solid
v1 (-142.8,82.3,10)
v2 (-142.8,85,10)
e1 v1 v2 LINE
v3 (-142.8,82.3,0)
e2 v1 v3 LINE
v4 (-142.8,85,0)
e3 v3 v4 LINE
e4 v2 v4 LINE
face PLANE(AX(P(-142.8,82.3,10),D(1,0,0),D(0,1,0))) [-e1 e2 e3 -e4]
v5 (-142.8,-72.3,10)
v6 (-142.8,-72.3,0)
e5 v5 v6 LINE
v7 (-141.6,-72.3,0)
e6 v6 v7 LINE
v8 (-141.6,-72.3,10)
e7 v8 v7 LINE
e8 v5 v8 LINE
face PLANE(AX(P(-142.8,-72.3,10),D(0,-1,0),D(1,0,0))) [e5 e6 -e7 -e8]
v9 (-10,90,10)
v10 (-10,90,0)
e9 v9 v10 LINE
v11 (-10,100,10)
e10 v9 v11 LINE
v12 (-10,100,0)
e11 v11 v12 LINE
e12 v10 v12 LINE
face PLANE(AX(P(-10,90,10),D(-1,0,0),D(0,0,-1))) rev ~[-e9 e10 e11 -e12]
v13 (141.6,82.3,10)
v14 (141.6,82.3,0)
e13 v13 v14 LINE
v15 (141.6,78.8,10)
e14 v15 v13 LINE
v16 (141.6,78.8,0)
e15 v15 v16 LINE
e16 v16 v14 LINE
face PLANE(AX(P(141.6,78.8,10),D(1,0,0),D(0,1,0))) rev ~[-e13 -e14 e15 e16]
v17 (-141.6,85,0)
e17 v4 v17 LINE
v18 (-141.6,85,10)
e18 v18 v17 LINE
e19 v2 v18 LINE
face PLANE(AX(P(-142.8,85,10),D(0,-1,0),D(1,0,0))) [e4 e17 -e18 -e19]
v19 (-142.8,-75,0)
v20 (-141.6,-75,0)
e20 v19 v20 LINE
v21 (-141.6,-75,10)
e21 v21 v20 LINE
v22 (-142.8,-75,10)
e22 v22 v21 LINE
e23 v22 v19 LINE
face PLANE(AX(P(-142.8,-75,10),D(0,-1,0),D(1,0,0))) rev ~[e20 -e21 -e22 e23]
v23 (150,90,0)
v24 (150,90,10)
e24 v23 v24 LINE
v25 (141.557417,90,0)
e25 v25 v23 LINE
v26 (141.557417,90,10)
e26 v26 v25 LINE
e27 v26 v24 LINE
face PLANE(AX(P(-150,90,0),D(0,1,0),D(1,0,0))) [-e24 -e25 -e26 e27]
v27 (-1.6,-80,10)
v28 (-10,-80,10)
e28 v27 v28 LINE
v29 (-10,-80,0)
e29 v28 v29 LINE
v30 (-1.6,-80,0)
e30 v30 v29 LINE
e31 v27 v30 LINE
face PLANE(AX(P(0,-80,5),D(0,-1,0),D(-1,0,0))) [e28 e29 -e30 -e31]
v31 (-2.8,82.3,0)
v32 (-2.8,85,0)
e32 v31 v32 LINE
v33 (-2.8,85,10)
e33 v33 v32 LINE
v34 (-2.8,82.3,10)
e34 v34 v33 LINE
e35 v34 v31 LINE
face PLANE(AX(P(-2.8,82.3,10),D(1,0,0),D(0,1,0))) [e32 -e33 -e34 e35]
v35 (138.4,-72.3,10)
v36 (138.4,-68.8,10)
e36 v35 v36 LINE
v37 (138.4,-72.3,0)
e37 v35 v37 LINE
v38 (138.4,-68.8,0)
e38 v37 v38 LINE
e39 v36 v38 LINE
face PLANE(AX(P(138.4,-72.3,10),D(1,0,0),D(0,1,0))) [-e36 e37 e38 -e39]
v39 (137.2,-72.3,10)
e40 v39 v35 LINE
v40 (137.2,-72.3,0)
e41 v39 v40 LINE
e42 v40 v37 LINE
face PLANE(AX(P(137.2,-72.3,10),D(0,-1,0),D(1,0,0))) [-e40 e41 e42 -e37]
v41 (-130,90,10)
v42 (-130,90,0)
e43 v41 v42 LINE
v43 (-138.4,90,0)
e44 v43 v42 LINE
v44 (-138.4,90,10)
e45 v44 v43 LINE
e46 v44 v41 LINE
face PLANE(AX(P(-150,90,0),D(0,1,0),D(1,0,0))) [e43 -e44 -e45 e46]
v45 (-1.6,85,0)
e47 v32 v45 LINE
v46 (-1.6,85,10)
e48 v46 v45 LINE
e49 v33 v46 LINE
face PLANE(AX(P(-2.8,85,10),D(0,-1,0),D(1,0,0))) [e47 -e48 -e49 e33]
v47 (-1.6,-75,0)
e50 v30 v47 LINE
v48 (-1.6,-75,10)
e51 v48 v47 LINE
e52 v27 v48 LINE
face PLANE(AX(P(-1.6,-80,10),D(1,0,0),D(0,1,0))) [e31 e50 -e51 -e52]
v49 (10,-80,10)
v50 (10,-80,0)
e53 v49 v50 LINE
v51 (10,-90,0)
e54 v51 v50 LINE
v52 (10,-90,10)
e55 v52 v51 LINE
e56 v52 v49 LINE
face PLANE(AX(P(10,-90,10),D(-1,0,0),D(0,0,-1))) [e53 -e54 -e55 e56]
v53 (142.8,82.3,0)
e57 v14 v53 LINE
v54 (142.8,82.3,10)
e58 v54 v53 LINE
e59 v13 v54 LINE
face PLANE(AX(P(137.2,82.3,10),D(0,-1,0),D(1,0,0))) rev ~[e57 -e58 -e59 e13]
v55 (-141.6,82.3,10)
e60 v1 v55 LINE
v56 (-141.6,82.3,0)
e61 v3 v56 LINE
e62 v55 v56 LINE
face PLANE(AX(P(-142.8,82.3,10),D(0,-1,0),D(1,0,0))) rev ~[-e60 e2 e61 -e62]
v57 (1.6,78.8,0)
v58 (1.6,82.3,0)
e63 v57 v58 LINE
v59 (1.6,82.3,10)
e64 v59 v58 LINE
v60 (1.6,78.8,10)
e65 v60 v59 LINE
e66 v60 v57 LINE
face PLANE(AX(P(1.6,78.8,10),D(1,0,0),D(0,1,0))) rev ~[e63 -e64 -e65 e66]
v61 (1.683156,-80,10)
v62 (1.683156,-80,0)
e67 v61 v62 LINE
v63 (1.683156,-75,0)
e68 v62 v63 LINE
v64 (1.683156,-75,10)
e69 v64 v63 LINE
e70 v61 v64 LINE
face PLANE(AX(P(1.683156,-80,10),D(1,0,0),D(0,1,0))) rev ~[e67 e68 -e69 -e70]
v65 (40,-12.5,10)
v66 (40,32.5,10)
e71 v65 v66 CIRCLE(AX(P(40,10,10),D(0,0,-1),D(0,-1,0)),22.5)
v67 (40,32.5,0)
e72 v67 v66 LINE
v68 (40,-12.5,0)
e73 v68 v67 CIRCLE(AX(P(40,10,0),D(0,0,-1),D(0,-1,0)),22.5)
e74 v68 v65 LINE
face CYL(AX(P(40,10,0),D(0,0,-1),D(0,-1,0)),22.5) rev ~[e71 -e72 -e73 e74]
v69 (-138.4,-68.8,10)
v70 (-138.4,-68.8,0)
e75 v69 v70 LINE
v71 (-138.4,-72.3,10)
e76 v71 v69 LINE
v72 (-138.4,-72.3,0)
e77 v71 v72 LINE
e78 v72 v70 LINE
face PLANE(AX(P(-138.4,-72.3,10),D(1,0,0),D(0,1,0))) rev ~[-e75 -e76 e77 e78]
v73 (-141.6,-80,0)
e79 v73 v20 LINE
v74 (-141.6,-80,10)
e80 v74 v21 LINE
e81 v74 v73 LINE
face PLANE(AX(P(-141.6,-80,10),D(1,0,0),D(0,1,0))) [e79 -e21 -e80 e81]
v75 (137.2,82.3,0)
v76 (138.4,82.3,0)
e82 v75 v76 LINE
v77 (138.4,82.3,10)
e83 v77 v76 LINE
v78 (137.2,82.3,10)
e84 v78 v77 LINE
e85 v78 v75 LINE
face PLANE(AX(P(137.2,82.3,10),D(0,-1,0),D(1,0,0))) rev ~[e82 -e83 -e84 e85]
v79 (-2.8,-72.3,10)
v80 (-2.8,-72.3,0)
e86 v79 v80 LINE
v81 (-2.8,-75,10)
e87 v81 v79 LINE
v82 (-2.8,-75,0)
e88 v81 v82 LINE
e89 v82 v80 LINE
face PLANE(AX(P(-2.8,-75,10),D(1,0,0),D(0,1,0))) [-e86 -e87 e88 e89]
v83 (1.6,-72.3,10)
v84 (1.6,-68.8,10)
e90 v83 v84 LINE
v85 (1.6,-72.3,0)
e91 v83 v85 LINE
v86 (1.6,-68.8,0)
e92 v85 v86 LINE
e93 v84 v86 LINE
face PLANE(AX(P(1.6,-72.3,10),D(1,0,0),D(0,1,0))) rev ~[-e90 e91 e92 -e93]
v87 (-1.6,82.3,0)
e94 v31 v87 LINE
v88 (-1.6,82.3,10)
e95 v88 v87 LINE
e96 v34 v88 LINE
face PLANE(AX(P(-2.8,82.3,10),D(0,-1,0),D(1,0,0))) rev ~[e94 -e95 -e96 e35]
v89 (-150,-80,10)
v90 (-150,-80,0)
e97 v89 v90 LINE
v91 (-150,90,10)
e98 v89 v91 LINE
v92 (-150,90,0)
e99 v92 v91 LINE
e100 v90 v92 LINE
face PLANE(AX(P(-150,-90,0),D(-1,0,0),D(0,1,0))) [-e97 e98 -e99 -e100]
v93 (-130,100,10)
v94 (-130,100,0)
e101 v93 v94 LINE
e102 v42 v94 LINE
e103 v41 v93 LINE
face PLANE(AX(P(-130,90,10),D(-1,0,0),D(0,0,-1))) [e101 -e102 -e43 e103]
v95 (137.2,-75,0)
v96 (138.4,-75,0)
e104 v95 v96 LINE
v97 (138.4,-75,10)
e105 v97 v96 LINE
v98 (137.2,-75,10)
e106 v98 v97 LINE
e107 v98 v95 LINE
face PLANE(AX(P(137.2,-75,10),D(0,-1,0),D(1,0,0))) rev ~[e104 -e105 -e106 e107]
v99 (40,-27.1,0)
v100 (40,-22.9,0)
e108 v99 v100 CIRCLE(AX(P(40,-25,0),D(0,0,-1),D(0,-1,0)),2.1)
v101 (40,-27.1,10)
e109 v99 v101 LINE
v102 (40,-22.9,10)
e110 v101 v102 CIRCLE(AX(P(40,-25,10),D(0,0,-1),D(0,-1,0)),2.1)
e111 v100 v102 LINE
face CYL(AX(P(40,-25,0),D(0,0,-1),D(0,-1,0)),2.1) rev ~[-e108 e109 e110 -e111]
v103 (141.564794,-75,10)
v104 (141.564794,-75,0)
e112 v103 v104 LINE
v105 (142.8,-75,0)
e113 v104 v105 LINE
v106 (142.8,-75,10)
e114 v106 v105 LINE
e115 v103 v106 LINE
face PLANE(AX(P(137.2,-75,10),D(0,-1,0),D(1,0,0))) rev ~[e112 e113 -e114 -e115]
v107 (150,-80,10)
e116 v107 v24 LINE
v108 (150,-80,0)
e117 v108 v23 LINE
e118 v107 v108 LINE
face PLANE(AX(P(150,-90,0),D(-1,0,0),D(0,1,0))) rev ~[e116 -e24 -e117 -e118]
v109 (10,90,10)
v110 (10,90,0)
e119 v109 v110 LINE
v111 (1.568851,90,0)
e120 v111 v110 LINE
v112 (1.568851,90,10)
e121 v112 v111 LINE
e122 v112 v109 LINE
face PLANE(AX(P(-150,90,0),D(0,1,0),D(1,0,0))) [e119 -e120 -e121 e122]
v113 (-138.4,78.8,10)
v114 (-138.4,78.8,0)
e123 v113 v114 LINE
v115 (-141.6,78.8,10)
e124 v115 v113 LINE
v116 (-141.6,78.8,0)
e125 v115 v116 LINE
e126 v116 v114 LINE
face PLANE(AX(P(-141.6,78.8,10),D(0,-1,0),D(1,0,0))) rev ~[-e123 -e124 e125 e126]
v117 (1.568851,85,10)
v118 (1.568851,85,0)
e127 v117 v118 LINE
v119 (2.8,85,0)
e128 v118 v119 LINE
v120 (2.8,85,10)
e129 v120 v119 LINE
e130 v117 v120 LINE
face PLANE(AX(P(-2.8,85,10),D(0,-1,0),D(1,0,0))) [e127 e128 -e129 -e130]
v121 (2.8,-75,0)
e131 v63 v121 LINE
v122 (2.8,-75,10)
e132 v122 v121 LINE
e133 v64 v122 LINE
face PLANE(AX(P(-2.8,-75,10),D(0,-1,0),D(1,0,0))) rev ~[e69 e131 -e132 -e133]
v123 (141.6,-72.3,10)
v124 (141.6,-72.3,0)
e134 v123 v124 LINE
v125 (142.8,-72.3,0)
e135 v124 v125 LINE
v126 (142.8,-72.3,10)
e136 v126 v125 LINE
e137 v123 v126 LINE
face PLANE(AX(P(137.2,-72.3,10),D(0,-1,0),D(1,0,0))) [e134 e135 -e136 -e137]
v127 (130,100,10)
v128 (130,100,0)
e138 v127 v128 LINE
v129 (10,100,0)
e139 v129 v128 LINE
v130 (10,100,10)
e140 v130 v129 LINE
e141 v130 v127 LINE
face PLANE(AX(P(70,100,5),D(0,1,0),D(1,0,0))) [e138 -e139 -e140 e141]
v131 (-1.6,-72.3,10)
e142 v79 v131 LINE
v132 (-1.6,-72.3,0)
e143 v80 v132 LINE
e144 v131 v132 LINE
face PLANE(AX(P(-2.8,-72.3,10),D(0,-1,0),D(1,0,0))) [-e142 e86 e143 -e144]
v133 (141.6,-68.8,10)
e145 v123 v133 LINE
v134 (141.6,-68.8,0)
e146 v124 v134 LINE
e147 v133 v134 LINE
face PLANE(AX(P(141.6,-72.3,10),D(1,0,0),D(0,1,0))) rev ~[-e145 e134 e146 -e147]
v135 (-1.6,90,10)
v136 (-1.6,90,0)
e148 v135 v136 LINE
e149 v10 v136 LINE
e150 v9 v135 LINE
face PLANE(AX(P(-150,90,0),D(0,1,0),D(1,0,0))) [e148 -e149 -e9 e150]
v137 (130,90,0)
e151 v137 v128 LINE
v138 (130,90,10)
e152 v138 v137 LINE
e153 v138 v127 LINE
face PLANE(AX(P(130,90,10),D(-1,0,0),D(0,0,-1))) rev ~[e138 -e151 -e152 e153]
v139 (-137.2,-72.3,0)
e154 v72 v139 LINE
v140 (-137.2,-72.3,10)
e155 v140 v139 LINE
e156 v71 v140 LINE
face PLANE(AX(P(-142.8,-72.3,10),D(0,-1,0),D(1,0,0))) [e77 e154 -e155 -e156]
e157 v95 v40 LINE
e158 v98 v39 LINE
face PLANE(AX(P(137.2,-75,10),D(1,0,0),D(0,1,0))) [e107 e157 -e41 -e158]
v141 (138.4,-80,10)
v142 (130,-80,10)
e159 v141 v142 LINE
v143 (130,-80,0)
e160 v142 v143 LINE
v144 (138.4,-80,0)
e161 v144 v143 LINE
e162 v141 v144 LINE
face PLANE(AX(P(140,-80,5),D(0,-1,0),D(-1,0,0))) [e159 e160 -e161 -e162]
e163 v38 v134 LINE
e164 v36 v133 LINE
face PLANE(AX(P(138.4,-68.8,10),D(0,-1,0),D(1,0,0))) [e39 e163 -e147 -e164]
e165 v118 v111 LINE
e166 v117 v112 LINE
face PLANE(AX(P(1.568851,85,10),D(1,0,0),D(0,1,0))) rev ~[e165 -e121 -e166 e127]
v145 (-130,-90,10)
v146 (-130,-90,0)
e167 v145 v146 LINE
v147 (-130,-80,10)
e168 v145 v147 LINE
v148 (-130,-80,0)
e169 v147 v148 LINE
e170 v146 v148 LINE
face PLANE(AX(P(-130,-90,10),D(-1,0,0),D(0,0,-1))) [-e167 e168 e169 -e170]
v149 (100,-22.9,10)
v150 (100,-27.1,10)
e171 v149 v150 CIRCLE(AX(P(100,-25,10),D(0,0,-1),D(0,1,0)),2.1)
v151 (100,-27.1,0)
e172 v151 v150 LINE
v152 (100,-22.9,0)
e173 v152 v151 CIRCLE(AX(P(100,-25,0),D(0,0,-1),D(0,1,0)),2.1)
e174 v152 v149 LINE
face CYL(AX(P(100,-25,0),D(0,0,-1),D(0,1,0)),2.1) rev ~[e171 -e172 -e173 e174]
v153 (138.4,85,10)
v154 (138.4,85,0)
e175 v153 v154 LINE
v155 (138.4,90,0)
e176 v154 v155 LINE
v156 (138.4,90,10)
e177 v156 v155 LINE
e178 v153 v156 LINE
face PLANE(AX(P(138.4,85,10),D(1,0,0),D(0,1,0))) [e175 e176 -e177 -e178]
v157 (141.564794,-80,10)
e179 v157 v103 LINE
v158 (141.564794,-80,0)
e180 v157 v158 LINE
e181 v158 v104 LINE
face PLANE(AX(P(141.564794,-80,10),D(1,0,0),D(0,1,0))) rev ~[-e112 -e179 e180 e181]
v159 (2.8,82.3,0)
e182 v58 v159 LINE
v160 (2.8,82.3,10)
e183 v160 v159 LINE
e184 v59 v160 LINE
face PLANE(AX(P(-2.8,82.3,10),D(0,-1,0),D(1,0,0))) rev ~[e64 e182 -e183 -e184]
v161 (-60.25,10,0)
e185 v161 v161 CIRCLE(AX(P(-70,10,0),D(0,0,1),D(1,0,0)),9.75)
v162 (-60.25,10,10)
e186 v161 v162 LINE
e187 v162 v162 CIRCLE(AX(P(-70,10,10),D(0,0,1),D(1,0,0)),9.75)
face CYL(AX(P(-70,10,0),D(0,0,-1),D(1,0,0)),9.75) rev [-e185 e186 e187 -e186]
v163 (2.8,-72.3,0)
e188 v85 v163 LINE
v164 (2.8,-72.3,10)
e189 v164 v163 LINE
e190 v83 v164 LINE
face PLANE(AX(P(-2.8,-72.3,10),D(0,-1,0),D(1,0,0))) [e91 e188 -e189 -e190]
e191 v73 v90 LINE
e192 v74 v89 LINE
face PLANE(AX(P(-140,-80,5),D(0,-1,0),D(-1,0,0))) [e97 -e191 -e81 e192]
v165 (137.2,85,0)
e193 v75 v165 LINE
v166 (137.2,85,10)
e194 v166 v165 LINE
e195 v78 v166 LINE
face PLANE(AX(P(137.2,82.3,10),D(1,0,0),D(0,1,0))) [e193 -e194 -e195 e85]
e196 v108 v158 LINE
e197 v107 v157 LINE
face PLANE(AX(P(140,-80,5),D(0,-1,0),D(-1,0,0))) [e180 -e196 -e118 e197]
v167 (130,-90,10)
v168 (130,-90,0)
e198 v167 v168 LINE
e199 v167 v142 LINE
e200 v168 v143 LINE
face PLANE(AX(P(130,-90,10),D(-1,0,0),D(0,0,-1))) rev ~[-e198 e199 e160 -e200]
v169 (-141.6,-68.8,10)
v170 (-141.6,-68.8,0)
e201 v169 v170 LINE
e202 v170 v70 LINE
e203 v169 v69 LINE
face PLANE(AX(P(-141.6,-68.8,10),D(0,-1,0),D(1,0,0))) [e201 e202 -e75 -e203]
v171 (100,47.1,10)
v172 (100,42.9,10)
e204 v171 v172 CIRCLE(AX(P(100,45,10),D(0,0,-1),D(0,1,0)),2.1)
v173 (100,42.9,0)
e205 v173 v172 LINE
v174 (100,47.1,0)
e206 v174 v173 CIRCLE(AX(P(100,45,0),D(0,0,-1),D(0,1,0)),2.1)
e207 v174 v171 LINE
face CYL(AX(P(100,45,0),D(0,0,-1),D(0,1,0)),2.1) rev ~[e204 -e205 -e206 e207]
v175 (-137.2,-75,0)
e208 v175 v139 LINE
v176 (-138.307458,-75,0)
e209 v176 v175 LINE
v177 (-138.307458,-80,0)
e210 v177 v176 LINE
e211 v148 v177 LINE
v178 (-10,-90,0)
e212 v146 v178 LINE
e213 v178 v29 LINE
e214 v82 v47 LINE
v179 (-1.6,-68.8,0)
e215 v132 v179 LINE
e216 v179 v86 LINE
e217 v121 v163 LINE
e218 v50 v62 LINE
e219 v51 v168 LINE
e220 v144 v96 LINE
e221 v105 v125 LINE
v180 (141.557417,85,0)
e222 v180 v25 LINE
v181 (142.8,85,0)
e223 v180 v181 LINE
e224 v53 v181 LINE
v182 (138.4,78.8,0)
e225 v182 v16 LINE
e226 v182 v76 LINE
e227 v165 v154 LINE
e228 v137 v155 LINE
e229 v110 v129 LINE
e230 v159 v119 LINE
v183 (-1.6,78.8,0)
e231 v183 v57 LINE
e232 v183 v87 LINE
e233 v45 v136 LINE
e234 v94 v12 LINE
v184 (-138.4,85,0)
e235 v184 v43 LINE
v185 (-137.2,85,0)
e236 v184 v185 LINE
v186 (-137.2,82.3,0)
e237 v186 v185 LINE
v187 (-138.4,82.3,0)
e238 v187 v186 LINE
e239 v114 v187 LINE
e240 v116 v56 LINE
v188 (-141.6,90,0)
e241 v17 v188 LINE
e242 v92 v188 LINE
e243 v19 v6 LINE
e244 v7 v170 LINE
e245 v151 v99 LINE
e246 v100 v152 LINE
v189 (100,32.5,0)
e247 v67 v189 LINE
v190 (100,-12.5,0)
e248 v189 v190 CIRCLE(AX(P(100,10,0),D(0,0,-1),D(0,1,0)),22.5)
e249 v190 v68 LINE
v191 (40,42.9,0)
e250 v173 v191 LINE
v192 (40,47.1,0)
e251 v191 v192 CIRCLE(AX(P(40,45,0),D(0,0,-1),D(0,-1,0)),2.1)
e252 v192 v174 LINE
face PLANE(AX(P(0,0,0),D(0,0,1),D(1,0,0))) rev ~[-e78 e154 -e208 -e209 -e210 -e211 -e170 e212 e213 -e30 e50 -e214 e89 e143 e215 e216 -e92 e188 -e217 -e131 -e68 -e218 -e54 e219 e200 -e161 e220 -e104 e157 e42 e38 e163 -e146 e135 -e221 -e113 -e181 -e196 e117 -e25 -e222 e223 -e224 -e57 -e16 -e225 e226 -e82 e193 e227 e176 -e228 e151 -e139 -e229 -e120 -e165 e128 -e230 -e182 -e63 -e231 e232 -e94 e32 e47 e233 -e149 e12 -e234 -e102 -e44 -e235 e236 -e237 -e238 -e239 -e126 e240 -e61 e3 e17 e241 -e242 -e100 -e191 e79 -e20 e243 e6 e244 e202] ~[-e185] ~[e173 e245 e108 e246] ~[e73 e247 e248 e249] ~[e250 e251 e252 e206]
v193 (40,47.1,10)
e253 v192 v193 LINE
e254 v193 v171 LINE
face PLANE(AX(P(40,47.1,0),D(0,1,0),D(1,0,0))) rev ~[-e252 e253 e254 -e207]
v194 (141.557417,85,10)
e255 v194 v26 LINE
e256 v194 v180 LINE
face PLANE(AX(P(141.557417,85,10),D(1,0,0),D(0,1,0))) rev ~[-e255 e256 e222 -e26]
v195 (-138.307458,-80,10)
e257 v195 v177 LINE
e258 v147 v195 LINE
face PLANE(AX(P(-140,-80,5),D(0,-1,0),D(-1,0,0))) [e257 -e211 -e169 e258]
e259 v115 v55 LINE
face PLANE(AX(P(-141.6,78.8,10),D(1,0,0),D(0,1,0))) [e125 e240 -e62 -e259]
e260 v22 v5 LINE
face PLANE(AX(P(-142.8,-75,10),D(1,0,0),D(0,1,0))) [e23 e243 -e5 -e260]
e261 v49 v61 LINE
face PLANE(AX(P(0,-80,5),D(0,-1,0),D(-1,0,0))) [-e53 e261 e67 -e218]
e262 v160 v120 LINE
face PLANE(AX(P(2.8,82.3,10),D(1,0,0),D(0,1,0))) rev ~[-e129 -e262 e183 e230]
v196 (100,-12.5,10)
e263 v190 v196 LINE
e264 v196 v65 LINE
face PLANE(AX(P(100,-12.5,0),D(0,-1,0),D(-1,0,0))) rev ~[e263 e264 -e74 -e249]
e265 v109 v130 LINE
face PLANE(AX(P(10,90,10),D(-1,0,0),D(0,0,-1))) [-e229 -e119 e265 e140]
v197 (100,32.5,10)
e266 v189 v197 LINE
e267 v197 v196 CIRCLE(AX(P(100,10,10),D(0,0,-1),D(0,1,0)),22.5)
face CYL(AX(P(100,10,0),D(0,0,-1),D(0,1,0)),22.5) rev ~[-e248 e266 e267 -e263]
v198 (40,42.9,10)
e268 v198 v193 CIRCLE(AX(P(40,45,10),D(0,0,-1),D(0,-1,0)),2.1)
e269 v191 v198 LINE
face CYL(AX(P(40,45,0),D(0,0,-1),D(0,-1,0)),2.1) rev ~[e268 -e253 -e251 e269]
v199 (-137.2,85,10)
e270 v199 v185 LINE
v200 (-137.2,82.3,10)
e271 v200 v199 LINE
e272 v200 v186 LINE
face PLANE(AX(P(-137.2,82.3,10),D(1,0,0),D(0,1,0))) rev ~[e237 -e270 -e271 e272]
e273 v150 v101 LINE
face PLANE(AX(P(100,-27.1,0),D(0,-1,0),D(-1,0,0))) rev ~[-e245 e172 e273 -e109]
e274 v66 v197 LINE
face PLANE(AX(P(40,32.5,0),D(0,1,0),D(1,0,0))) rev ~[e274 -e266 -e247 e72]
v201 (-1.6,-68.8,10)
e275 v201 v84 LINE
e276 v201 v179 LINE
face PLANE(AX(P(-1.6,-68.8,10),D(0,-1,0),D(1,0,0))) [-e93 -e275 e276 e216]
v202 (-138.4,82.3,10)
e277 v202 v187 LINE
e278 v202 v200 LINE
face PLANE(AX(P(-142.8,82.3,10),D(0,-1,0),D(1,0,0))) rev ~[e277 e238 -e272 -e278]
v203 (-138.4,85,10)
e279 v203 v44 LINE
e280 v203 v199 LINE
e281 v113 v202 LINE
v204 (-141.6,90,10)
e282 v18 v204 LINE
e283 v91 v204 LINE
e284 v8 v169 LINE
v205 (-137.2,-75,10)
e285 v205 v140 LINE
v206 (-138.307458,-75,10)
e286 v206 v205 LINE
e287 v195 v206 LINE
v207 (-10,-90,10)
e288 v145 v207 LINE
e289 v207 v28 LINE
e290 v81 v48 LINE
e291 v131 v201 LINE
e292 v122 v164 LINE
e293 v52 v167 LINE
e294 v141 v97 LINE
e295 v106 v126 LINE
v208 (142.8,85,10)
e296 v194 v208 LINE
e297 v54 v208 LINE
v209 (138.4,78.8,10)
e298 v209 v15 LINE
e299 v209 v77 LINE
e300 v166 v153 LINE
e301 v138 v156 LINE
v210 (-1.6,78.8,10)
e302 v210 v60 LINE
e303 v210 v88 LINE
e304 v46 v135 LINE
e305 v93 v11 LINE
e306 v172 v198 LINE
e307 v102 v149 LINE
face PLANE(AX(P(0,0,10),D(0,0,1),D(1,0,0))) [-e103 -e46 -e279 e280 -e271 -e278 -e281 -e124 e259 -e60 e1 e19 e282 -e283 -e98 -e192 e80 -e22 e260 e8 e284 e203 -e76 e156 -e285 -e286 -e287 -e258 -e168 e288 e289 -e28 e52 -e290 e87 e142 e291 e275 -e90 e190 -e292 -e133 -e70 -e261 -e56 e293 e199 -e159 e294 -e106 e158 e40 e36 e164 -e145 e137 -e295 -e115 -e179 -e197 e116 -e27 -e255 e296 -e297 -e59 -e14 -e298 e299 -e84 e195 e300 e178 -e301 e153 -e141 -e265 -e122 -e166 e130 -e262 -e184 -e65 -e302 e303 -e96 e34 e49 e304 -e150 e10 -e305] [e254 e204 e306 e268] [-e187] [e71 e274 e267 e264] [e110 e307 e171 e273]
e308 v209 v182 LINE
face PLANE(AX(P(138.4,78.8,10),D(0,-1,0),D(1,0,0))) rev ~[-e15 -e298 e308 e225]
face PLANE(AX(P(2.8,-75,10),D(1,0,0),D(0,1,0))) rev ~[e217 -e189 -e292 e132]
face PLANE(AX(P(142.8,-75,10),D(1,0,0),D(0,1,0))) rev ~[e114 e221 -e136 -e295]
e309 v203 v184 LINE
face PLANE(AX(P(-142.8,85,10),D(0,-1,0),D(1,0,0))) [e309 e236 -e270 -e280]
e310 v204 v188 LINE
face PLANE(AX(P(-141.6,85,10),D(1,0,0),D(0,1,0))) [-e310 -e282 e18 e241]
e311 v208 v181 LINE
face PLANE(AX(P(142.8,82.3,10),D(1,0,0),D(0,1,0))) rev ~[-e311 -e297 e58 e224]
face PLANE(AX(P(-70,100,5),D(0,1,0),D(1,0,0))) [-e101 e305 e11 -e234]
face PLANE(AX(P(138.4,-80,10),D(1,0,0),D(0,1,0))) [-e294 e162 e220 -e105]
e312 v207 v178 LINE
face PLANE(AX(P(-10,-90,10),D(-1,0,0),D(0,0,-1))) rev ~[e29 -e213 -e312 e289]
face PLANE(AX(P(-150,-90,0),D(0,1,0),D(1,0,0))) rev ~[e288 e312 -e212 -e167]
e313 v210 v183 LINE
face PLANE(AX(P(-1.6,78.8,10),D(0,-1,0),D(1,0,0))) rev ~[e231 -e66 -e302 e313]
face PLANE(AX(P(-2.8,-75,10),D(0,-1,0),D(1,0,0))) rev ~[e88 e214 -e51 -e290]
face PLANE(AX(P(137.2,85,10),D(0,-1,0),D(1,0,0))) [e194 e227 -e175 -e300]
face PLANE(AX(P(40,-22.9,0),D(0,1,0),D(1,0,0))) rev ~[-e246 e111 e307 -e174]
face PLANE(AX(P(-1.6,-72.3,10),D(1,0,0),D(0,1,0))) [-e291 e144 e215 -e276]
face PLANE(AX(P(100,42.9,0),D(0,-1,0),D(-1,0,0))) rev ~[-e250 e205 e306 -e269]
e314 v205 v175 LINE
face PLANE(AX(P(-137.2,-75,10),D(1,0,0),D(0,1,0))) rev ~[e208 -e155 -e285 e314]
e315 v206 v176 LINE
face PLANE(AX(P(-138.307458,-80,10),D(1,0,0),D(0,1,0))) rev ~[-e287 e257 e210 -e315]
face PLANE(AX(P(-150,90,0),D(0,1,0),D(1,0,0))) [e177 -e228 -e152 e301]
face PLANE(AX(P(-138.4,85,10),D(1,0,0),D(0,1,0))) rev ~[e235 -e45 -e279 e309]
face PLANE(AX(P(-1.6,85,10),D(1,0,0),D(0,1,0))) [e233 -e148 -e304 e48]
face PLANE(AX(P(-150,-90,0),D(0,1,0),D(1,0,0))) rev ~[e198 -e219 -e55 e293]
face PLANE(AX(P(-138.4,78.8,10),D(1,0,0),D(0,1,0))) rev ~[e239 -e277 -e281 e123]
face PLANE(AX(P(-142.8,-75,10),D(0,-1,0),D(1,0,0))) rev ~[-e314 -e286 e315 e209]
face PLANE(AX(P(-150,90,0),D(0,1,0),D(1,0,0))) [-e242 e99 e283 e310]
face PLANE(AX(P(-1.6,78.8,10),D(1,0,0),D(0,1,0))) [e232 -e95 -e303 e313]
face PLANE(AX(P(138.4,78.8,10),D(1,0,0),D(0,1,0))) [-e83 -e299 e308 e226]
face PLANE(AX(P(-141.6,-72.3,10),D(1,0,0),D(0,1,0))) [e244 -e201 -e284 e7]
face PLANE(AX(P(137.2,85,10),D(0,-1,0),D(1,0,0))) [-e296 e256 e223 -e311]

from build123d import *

# Parameters (mm, degrees)
IZIM1_W                     = 300
IZIM1_H                     = 180
IZIM1_R                     = 9.75
Y_KSEKLIK_EKSTR_ZYON1_DEPTH = 10
IZIM2_W                     = 120
IZIM2_H                     = 10
Y_KSEKLIK_EKSTR_ZYON2_DEPTH = 10
IZIM3_W                     = 20
IZIM3_H                     = 10
KES_EKSTR_ZYON1_DEPTH       = 10
IZIM4_W                     = 5.6
IZIM4_H                     = 2.7
KES_EKSTR_ZYON2_DEPTH       = 10
IZIM5_W                     = 3.2
IZIM5_H                     = 3.5
IZIM5_W_2                   = 3.168851203
IZIM5_H_2                   = 5
IZIM5_H_3                   = 5.09138305
IZIM5_W_3                   = 3.157417266
IZIM5_W_4                   = 3.164794192
IZIM5_W_5                   = 3.283155767
IZIM5_W_6                   = 3.292541888
KES_EKSTR_ZYON3_DEPTH       = 10


with BuildPart() as part:
    # Çizim1 → Yükseklik-Ekstrüzyon1 (new body)
    with BuildSketch(Plane.XY):
        Rectangle(IZIM1_W, IZIM1_H)
        with Locations((-70, 10)):
            Circle(IZIM1_R, mode=Mode.SUBTRACT)
        with BuildLine():
            Line((100, -12.5), (40, -12.5))
            ThreePointArc((40, -12.5), (17.5, 10), (40, 32.5))
            Line((40, 32.5), (100, 32.5))
            ThreePointArc((100, 32.5), (122.5, 10), (100, -12.5))
        make_face(mode=Mode.SUBTRACT)
        with BuildLine():
            Line((100, 42.9), (40, 42.9))
            ThreePointArc((40, 42.9), (37.9, 45), (40, 47.1))
            Line((40, 47.1), (100, 47.1))
            ThreePointArc((100, 47.1), (102.1, 45), (100, 42.9))
        make_face(mode=Mode.SUBTRACT)
        with BuildLine():
            Line((100, -27.1), (40, -27.1))
            ThreePointArc((40, -27.1), (37.9, -25), (40, -22.9))
            Line((40, -22.9), (100, -22.9))
            ThreePointArc((100, -22.9), (102.1, -25), (100, -27.1))
        make_face(mode=Mode.SUBTRACT)
    extrude(amount=Y_KSEKLIK_EKSTR_ZYON1_DEPTH)

    # Çizim2 → Yükseklik-Ekstrüzyon2 (add)
    with BuildSketch(Plane(origin=(0, 90, 0), x_dir=(1, 0, 0), z_dir=(0, 1, 0))):
        with Locations((70, -5)):
            Rectangle(IZIM2_W, IZIM2_H)
        with Locations((-70, -5)):
            Rectangle(IZIM2_W, IZIM2_H)
    extrude(amount=Y_KSEKLIK_EKSTR_ZYON2_DEPTH)

    # Çizim3 → Kes-Ekstrüzyon1 (cut)
    with BuildSketch(Plane(origin=(0, -90, 0), x_dir=(-1, 0, 0), z_dir=(0, -1, 0))):
        with Locations((140, -5)):
            Rectangle(IZIM3_W, IZIM3_H)
        with Locations((-140, -5)):
            Rectangle(IZIM3_W, IZIM3_H)
        with Locations((0, -5)):
            Rectangle(IZIM3_W, IZIM3_H)
    extrude(amount=-KES_EKSTR_ZYON1_DEPTH, mode=Mode.SUBTRACT)

    # Çizim4 → Kes-Ekstrüzyon2 (cut)
    with BuildSketch(Plane.XY.offset(10)):
        with Locations((-140, 83.65)):
            Rectangle(IZIM4_W, IZIM4_H)
        with Locations((0, 83.65)):
            Rectangle(IZIM4_W, IZIM4_H)
        with Locations((140, 83.65)):
            Rectangle(IZIM4_W, IZIM4_H)
        with Locations((-140, -73.65)):
            Rectangle(IZIM4_W, IZIM4_H)
        with Locations((0, -73.65)):
            Rectangle(IZIM4_W, IZIM4_H)
        with Locations((140, -73.65)):
            Rectangle(IZIM4_W, IZIM4_H)
    extrude(amount=-KES_EKSTR_ZYON2_DEPTH, mode=Mode.SUBTRACT)

    # Çizim5 → Kes-Ekstrüzyon3 (cut)
    with BuildSketch(Plane.XY.offset(10)):
        with Locations((-140, 80.55)):
            Rectangle(IZIM5_W, IZIM5_H)
        with Locations((0, 80.55)):
            Rectangle(IZIM5_W, IZIM5_H)
        with Locations((140, 80.55)):
            Rectangle(IZIM5_W, IZIM5_H)
        with Locations((-140, -70.55)):
            Rectangle(IZIM5_W, IZIM5_H)
        with Locations((0, -70.55)):
            Rectangle(IZIM5_W, IZIM5_H)
        with Locations((-0.015574398, 87.5)):
            Rectangle(IZIM5_W_2, IZIM5_H_2)
        with Locations((140, -70.55)):
            Rectangle(IZIM5_W, IZIM5_H)
        with Locations((-140, 87.545691525)):
            Rectangle(IZIM5_W, IZIM5_H_3)
        with Locations((139.978708633, 87.5)):
            Rectangle(IZIM5_W_3, IZIM5_H_2)
        with Locations((139.982397096, -77.5)):
            Rectangle(IZIM5_W_4, IZIM5_H_2)
        with Locations((0.041577884, -77.5)):
            Rectangle(IZIM5_W_5, IZIM5_H_2)
        with Locations((-139.953729056, -77.5)):
            Rectangle(IZIM5_W_6, IZIM5_H_2)
    extrude(amount=-KES_EKSTR_ZYON3_DEPTH, mode=Mode.SUBTRACT)


solid = part.part
